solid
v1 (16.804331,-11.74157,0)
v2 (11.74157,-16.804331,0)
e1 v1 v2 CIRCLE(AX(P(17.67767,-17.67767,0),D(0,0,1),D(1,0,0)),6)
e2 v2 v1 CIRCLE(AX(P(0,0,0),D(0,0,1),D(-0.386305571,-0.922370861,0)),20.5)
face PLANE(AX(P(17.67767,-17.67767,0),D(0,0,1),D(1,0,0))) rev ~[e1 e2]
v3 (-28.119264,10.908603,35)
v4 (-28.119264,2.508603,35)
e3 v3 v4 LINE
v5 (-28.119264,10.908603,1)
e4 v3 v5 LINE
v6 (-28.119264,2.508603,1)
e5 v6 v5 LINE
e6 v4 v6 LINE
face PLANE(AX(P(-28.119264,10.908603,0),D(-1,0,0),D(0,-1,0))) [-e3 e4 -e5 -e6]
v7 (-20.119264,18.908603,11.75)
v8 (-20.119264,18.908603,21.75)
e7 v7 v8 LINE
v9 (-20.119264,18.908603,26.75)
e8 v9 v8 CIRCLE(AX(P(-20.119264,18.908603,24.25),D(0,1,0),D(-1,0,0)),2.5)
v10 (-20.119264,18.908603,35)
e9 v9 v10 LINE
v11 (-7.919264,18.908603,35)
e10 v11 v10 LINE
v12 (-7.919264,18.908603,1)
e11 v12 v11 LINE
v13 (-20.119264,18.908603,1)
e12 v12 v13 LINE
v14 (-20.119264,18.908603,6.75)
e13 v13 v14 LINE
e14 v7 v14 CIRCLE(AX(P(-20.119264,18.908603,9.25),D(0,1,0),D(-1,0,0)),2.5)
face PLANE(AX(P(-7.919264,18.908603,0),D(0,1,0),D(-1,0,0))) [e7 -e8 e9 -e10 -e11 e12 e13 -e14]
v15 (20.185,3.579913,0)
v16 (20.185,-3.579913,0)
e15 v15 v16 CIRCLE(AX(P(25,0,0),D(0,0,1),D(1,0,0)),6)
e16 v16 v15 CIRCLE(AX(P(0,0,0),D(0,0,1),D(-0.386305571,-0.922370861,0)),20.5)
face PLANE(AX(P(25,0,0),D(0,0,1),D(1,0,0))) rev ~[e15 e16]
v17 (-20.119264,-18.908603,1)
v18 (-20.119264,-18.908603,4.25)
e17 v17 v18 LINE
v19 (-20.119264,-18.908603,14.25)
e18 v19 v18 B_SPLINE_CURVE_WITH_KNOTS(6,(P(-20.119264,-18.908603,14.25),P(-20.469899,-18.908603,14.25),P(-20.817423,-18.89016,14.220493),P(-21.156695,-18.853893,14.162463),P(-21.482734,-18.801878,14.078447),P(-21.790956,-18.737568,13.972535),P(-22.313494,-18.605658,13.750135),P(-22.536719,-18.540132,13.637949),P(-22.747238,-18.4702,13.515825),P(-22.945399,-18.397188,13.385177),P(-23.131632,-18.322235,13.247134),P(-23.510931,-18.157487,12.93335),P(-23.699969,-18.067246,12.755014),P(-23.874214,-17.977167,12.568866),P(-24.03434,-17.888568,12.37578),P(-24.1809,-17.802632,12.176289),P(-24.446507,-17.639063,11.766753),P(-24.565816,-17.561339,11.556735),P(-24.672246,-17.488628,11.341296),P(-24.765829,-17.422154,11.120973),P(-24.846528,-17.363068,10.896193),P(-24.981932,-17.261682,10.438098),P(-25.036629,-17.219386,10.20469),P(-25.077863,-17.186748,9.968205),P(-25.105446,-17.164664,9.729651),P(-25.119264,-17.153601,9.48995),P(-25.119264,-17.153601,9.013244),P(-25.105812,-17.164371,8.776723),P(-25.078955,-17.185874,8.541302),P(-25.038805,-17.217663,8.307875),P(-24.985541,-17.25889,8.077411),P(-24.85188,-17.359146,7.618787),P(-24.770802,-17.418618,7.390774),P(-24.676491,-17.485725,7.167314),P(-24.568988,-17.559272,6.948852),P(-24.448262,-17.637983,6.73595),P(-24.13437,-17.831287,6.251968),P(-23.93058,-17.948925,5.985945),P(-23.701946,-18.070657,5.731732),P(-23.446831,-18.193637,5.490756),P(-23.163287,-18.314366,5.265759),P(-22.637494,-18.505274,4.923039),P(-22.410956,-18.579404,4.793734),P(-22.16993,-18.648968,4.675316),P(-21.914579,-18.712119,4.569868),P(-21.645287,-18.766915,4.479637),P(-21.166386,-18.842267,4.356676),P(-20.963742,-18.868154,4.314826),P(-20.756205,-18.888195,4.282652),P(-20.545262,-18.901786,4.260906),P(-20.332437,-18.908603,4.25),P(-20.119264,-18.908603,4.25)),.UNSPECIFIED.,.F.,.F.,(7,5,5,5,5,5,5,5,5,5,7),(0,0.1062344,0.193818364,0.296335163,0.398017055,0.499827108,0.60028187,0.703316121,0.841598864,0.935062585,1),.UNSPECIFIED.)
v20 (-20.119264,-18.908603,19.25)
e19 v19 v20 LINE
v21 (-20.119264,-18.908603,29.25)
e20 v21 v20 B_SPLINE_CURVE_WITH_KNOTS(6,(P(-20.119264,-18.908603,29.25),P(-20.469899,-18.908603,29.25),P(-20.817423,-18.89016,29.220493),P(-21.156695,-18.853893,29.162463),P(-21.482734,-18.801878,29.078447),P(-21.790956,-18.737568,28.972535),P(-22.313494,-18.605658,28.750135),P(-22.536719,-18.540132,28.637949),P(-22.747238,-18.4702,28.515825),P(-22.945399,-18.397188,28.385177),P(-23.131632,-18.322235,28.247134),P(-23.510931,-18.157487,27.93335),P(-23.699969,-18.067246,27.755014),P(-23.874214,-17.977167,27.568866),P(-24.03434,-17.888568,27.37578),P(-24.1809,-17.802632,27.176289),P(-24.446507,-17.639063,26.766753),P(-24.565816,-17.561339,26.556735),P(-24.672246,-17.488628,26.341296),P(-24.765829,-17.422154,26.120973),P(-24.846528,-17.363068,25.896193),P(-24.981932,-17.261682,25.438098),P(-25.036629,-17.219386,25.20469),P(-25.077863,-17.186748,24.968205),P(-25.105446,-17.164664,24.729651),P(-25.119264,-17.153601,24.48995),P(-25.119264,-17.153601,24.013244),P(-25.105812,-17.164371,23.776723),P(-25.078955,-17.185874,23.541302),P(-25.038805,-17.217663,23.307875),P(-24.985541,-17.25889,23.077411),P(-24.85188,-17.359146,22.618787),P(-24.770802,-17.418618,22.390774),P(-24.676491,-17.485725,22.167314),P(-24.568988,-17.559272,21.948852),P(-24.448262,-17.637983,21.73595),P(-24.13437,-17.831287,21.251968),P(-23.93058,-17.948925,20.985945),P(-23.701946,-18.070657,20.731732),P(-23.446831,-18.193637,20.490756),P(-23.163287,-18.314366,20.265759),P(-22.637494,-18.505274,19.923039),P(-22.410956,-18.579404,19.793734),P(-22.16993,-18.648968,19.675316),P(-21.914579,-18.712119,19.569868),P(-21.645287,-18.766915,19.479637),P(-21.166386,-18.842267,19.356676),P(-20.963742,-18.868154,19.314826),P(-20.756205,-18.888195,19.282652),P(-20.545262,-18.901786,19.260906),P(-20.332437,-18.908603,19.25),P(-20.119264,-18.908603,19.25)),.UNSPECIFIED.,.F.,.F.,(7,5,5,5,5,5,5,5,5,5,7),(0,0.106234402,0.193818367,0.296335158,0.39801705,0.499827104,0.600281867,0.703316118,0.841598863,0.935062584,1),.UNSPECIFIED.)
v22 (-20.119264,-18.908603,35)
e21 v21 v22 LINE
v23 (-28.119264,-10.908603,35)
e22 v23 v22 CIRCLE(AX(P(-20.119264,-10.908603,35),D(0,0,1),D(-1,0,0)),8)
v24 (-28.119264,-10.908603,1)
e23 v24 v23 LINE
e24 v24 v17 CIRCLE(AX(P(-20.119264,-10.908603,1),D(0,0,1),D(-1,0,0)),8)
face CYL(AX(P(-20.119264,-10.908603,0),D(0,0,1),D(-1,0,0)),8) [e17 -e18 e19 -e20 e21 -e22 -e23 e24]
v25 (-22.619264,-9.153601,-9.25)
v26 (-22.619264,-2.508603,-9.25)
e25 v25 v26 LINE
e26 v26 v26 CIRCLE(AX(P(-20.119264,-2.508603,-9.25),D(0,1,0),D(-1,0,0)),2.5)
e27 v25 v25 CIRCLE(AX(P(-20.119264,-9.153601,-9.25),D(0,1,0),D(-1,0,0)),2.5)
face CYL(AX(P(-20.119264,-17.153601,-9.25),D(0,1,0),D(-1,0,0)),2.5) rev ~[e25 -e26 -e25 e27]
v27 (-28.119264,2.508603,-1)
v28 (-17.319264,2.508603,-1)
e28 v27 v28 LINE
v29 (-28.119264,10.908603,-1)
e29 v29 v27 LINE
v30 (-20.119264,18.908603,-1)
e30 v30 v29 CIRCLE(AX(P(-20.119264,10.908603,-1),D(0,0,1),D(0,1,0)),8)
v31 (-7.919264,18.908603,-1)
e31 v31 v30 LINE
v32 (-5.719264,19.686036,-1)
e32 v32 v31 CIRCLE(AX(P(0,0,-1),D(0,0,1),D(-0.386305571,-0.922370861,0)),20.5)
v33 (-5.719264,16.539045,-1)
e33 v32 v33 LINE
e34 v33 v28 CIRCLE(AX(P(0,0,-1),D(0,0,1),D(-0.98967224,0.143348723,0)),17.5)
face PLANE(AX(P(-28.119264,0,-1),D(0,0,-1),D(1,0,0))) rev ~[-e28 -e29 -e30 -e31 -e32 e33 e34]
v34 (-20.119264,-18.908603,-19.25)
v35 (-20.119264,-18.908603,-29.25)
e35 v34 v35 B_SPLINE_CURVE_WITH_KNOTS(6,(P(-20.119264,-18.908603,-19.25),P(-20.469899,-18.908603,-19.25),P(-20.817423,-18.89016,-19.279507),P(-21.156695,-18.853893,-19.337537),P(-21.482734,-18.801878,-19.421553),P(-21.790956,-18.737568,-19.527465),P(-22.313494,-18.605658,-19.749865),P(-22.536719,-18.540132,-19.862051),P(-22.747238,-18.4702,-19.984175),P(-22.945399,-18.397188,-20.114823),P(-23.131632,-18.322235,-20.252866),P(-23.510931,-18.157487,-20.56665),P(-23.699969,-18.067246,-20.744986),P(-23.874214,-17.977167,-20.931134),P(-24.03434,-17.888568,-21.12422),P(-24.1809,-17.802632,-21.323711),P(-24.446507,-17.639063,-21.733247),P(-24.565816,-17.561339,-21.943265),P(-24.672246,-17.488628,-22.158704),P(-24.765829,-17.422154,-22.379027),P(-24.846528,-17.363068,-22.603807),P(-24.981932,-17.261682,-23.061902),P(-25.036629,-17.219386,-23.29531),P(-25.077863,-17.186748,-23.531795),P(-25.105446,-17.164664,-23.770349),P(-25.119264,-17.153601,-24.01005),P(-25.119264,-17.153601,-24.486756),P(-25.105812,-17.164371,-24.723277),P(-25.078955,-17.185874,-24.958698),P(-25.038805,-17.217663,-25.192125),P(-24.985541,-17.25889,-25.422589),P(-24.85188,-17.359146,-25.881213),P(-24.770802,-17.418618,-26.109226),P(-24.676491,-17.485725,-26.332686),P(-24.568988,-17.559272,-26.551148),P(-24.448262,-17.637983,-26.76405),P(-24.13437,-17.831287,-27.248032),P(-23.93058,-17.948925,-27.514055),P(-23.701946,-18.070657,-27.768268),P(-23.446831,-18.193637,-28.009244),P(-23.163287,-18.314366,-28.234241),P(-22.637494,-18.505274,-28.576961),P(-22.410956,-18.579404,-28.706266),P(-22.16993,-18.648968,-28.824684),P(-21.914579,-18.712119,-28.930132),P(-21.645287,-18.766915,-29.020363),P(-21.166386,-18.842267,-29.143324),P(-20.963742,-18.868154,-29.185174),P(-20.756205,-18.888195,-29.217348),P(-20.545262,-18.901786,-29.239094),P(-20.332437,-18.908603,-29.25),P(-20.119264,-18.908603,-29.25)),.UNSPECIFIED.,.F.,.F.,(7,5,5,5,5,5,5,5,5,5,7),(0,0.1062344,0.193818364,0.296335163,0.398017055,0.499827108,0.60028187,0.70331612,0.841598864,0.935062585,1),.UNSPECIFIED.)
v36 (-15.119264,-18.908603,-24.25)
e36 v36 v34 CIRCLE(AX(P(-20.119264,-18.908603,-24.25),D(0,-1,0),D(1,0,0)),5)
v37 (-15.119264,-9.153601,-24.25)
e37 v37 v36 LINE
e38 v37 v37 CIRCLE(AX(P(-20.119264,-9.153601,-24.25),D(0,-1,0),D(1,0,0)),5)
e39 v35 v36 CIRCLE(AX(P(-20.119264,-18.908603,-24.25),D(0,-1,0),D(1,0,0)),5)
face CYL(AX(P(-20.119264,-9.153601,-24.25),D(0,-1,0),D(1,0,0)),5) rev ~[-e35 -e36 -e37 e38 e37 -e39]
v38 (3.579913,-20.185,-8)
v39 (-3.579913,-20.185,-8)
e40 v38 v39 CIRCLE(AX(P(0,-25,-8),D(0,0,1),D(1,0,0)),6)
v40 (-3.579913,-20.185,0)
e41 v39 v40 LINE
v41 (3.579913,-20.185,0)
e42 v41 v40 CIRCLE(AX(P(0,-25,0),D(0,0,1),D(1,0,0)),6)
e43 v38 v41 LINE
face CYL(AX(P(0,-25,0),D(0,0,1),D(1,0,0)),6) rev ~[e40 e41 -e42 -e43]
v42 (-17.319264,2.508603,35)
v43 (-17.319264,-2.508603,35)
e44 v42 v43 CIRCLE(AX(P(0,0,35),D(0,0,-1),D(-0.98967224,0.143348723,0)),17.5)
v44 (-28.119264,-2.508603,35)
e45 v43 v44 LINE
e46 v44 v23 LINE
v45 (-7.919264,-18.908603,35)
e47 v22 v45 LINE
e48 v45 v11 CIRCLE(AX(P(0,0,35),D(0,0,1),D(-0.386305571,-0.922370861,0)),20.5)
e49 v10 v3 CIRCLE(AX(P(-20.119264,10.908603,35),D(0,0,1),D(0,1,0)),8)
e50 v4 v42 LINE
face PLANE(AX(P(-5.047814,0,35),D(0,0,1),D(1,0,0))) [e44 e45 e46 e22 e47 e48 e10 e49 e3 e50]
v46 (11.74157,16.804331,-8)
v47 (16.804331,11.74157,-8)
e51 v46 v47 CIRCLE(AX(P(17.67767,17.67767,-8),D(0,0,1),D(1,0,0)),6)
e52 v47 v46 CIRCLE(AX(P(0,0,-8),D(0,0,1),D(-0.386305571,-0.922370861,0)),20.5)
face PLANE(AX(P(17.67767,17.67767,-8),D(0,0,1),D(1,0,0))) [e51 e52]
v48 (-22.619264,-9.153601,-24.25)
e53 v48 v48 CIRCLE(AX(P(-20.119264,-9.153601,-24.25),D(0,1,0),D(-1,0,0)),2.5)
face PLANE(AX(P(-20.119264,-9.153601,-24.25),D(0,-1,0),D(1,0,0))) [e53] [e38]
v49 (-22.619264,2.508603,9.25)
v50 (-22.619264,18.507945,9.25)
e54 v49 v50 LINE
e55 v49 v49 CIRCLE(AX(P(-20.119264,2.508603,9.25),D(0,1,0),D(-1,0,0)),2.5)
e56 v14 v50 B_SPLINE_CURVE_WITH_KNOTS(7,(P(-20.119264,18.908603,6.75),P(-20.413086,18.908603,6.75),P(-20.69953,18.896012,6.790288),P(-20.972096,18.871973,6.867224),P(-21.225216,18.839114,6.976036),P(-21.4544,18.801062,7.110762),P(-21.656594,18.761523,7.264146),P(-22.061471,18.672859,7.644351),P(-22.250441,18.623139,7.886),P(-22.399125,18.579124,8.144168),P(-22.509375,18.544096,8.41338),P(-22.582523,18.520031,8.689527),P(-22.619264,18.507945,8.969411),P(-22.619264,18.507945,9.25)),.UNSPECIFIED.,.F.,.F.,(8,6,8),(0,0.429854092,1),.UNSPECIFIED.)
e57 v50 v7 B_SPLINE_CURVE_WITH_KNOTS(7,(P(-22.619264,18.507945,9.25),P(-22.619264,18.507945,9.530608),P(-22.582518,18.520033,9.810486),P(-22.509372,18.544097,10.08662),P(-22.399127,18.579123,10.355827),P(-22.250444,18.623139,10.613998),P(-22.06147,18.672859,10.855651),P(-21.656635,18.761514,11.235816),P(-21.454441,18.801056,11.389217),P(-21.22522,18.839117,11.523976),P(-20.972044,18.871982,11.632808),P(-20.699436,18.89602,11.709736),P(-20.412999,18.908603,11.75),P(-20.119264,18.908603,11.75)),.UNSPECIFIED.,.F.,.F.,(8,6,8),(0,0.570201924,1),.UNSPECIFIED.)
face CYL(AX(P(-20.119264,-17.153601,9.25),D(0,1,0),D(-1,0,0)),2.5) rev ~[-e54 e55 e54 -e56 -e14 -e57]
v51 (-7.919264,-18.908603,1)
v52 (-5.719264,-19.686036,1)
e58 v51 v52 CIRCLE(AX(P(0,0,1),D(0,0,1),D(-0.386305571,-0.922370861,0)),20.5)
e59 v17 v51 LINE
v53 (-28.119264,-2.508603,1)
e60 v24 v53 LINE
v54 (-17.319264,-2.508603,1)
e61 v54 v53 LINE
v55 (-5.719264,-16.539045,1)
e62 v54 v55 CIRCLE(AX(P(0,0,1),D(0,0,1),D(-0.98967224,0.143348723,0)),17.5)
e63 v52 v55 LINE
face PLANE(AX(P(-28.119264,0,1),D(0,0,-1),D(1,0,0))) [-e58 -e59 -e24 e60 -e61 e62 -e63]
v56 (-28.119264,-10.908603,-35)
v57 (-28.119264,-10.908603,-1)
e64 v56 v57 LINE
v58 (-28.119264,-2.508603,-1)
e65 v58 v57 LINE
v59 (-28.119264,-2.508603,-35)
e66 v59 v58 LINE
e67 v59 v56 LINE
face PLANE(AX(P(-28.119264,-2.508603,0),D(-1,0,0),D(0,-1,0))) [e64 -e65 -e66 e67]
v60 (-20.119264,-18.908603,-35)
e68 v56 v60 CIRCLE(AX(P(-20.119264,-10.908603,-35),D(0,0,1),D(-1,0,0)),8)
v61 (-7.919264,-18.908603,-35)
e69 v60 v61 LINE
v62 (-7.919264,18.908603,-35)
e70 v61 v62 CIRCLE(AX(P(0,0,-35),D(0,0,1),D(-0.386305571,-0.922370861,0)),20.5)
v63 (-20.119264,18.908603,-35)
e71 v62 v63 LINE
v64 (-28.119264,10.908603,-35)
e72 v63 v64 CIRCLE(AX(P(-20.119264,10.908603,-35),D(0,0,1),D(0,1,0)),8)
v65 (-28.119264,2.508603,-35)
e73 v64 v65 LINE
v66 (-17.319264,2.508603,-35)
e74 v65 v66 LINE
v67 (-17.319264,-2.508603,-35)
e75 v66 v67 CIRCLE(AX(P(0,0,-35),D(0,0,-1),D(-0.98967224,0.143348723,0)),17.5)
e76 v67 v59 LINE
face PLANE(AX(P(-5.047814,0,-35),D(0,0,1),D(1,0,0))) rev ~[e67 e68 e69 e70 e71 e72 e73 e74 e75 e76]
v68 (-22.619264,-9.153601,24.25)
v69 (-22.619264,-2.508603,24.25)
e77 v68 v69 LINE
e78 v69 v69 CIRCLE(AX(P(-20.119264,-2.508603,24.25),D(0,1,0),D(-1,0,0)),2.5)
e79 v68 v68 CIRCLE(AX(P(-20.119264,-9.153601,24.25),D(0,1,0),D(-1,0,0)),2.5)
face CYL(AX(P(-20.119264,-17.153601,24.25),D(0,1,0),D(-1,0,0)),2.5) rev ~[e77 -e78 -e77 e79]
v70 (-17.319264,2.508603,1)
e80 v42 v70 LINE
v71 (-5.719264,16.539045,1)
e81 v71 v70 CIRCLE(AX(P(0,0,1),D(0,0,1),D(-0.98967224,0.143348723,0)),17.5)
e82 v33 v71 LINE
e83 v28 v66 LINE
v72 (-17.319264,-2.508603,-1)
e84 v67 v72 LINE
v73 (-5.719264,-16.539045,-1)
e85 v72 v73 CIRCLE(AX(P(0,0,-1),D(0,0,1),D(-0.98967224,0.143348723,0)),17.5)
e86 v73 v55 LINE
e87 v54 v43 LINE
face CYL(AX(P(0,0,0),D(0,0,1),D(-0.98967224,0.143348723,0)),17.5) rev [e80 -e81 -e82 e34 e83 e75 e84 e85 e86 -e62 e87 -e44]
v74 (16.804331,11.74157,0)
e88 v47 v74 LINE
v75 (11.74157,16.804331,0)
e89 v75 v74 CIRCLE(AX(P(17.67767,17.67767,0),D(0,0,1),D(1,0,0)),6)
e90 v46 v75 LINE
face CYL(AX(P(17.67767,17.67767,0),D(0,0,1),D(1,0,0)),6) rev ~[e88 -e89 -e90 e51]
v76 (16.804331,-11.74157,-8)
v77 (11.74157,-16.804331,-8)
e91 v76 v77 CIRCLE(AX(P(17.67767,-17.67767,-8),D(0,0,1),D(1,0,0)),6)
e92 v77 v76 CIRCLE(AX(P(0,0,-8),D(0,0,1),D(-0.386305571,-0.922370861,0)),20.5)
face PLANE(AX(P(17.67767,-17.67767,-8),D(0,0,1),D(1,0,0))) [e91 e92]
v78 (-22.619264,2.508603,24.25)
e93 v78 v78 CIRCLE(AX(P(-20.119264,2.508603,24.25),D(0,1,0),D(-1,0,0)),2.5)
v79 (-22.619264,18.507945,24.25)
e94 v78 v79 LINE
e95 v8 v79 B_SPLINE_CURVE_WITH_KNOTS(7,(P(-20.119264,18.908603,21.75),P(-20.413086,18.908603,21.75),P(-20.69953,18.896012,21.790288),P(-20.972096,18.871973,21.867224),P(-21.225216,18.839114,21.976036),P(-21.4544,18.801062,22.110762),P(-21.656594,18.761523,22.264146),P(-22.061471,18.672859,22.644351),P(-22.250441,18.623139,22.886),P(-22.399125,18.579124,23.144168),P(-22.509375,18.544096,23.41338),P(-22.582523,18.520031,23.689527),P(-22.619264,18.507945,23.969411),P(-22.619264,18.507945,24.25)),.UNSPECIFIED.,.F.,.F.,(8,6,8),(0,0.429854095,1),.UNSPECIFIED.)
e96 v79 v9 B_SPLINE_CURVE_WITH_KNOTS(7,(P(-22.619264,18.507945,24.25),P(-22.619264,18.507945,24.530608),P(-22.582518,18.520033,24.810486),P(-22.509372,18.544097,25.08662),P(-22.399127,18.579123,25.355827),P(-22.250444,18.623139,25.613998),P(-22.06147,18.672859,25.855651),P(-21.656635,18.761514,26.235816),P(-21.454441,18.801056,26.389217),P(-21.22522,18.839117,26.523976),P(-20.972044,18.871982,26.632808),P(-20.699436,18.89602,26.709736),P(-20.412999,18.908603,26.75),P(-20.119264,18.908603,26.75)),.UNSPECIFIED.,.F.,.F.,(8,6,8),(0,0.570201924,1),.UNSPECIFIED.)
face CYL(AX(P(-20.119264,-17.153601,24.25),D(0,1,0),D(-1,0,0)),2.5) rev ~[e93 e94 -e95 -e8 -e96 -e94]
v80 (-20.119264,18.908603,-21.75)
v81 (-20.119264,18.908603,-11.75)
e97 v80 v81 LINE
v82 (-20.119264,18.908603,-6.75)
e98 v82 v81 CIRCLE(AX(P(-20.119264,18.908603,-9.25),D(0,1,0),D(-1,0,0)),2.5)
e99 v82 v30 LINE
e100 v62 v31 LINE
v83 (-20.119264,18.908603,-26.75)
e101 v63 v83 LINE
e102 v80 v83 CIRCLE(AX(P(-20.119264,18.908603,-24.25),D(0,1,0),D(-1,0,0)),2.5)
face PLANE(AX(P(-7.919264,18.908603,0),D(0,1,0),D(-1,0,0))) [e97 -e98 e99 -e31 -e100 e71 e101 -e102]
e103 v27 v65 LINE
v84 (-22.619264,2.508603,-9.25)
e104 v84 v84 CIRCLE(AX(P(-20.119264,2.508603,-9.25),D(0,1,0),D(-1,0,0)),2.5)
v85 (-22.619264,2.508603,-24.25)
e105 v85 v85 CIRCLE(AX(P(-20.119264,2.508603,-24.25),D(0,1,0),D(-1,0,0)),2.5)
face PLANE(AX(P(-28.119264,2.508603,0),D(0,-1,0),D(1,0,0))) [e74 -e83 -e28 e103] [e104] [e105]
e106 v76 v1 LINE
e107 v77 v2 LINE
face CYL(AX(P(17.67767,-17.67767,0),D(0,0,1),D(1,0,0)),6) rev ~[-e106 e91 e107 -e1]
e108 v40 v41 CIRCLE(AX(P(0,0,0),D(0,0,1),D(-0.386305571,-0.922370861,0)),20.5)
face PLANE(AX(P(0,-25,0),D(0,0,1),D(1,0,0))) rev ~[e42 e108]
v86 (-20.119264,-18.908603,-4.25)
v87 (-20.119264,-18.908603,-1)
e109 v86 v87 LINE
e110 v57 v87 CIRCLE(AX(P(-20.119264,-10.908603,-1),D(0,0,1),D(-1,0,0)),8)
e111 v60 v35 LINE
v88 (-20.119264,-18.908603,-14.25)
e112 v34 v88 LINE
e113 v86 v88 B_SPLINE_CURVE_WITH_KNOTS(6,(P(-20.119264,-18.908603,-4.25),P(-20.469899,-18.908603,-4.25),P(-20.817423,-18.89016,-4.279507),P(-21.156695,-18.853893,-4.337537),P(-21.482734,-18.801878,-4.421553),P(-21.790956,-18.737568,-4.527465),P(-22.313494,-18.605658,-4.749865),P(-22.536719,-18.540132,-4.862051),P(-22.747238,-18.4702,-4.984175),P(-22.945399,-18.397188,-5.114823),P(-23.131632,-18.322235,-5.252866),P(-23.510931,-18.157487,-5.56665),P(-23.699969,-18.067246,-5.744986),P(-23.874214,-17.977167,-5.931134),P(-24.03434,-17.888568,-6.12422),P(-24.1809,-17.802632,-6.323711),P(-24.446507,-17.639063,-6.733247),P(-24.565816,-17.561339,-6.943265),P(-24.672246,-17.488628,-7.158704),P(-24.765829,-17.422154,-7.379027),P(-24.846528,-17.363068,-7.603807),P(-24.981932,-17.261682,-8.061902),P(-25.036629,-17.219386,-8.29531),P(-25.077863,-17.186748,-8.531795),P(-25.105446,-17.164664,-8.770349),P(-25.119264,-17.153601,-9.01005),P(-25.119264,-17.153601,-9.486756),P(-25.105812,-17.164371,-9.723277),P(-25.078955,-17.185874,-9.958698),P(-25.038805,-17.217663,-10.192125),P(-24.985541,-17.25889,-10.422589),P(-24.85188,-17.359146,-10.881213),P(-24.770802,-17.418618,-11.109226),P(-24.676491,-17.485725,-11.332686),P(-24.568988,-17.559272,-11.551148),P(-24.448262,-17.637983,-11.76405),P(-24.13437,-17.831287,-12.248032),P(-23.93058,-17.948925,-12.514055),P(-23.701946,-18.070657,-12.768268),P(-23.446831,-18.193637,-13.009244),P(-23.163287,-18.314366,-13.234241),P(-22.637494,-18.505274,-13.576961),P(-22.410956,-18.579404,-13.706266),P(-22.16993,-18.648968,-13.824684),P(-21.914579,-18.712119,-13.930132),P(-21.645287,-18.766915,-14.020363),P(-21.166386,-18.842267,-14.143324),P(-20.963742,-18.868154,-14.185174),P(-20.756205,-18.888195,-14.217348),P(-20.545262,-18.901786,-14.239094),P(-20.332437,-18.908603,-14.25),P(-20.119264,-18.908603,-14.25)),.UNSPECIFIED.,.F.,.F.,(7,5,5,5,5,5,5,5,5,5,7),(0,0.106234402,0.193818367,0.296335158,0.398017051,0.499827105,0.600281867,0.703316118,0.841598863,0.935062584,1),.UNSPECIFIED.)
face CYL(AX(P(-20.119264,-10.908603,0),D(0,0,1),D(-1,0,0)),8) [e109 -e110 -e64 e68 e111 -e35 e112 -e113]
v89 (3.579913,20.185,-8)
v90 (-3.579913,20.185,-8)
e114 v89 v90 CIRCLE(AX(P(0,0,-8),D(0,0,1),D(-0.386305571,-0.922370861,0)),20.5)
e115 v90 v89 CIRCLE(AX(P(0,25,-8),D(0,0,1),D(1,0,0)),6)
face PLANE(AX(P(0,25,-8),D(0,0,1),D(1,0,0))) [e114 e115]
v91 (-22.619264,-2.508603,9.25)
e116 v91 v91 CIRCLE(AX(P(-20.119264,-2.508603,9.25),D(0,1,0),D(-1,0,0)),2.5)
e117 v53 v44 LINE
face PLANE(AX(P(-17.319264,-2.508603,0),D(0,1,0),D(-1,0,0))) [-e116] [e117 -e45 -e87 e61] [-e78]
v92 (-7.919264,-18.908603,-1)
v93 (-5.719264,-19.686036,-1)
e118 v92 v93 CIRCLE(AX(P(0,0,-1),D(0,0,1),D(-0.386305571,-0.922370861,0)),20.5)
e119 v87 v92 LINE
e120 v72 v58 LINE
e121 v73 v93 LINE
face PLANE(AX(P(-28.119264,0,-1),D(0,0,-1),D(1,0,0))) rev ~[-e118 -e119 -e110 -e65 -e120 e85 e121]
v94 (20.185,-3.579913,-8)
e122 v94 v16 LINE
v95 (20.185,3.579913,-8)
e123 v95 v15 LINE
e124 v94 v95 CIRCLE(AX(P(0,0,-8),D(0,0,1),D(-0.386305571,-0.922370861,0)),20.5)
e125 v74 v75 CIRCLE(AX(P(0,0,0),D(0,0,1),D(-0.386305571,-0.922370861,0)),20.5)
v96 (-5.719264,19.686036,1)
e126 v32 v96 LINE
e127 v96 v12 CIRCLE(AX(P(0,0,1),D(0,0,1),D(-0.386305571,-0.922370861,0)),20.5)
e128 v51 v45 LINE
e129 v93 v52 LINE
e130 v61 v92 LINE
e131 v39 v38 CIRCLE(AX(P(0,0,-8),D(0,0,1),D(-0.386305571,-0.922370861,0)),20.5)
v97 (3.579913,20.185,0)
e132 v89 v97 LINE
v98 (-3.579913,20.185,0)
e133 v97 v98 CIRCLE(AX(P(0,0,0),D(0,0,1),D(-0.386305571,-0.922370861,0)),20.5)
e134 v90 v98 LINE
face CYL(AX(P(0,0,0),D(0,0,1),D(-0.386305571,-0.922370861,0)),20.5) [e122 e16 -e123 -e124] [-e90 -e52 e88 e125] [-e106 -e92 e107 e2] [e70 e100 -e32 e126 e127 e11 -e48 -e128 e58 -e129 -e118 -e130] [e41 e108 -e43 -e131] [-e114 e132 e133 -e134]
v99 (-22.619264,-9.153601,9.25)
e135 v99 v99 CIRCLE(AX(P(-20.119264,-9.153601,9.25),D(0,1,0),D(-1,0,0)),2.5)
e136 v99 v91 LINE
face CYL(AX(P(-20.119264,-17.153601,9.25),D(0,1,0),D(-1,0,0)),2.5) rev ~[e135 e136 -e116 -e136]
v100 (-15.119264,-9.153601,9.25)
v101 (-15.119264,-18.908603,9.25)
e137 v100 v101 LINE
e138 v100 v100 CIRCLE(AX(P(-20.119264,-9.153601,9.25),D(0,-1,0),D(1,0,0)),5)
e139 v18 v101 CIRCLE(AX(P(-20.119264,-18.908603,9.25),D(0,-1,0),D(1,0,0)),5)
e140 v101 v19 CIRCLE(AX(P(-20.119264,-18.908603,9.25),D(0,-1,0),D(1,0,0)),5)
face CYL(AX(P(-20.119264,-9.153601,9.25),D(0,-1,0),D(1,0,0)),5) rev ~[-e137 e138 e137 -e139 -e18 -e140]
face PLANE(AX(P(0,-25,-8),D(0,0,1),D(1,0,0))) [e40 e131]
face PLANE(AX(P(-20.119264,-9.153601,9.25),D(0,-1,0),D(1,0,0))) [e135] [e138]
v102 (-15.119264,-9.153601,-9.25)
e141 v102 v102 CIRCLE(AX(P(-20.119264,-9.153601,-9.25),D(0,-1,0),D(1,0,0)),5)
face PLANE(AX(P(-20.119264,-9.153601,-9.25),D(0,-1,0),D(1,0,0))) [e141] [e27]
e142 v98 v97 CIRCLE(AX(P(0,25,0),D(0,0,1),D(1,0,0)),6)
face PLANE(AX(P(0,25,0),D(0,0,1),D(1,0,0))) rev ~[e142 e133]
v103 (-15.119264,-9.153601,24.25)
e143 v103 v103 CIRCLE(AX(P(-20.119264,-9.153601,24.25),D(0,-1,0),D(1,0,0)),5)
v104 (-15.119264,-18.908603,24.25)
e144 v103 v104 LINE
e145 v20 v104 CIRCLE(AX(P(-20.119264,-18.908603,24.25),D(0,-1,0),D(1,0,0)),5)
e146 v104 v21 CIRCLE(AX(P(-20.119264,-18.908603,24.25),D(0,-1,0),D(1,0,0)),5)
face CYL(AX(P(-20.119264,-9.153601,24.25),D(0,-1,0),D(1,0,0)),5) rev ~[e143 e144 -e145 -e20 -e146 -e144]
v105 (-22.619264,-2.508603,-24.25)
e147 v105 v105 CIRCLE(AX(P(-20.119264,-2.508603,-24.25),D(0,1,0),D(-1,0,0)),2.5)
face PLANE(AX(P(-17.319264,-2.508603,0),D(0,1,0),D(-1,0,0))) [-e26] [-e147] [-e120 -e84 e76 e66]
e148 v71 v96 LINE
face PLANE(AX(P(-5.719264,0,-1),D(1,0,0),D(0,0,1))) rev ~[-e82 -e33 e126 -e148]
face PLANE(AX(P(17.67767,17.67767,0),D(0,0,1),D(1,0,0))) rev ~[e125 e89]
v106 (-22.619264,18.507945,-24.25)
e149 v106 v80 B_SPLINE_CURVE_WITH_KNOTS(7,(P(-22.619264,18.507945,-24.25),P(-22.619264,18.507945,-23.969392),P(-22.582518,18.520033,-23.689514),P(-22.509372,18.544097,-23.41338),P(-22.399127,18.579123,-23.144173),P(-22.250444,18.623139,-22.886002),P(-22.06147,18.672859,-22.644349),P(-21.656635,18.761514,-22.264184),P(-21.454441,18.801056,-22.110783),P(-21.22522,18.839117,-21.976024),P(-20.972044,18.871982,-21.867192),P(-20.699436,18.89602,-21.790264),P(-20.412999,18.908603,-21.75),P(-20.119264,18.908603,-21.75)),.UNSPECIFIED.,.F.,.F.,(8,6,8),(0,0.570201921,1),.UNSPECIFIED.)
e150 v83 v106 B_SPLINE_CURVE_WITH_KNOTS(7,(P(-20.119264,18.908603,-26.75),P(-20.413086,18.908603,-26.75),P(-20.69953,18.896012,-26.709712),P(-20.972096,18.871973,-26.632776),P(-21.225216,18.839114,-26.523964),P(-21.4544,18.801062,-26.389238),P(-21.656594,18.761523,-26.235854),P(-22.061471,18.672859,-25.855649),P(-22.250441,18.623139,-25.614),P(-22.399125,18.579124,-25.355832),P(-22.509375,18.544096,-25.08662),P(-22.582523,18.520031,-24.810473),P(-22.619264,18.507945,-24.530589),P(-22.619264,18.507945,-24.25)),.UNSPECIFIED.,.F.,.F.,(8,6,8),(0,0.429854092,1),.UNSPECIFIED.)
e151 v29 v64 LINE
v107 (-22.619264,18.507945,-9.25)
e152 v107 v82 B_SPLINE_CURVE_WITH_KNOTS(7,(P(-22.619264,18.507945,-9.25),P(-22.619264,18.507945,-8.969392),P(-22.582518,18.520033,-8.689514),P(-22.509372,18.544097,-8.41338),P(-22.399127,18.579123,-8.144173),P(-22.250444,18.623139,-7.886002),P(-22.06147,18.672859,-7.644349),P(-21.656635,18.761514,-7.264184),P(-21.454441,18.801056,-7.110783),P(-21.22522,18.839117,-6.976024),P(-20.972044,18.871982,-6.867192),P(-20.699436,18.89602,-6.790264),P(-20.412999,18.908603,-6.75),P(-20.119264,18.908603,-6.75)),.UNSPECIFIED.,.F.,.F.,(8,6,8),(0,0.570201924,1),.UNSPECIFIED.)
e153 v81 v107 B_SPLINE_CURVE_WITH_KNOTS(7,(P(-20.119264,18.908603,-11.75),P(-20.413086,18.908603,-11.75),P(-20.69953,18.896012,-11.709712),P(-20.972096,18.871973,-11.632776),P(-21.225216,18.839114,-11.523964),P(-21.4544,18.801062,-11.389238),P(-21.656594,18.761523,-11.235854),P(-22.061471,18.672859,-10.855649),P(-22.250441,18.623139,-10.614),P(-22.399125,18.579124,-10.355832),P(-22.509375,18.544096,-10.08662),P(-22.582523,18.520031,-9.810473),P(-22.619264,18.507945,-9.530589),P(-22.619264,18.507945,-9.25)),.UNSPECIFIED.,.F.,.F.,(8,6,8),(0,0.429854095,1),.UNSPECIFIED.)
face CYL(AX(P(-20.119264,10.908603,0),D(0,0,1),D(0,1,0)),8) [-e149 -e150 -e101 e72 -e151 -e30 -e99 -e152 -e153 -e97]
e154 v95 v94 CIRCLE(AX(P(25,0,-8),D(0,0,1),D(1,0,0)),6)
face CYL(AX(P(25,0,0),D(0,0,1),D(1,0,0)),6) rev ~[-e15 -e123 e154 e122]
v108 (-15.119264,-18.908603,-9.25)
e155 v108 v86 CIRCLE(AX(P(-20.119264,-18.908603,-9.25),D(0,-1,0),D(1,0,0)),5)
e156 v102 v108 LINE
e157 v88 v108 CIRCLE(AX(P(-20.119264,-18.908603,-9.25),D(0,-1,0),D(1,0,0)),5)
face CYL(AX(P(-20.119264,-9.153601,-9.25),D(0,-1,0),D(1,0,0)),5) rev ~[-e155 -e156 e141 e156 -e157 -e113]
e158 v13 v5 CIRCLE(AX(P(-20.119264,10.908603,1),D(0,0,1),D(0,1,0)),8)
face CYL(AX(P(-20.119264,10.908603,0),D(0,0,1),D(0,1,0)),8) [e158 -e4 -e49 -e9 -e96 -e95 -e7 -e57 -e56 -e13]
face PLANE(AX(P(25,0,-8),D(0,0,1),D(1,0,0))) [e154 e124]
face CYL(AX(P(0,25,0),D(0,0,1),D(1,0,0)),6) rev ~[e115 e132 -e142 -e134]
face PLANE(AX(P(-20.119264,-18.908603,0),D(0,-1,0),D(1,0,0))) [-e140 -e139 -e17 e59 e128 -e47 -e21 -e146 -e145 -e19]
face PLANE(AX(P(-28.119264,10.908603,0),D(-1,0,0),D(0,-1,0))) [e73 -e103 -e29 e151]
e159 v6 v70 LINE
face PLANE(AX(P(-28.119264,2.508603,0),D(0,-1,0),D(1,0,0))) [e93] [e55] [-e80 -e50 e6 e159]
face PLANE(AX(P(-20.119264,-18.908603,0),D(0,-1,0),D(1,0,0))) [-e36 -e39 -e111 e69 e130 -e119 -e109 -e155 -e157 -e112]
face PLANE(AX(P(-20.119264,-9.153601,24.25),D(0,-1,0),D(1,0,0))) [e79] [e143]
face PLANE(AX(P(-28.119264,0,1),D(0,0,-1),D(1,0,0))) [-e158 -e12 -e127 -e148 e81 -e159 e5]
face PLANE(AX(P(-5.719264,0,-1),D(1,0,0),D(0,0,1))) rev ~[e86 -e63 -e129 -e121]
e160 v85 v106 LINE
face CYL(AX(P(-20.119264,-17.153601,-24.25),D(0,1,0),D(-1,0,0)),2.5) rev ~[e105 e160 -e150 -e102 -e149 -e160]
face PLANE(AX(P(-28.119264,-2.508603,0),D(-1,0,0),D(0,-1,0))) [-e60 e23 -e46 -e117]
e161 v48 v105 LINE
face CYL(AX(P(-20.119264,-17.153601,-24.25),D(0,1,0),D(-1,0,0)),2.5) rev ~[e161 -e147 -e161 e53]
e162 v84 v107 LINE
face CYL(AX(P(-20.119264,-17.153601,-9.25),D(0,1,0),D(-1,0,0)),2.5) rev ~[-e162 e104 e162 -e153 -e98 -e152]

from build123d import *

# Parameters (mm, degrees)
F1_DEPTH       = 35
F3_D           = 5
F3_START       = 1.7550021
F3_CBORE_D     = 10
F3_CBORE_DEPTH = 8
F4_W           = 22.4
F4_H           = 2
F5_DEPTH       = 25
F6_R           = 6
F7_DEPTH       = 8


with BuildPart() as f1:
    # F0 (on Top) → F1 (new body, symmetric)
    with BuildSketch(Plane.XY):
        with BuildLine():
            ThreePointArc((-17.3192642082, 2.5086026559), (17.5, 0), (-17.3192642082, -2.5086026559))
            Line((-17.3192642082, -2.5086026559), (-28.1192642082, -2.5086026559))
            Line((-28.1192642082, -2.5086026559), (-28.1192642082, -10.9086026559))
            ThreePointArc((-28.1192642082, -10.9086026559), (-25.7761184577, -16.5654569054), (-20.1192642082, -18.9086026559))
            Line((-20.1192642082, -18.9086026559), (-7.9192642082, -18.9086026559))
            ThreePointArc((-7.9192642082, -18.9086026559), (20.5, 0), (-7.9192642082, 18.9086026559))
            Line((-7.9192642082, 18.9086026559), (-20.1192642082, 18.9086026559))
            ThreePointArc((-20.1192642082, 18.9086026559), (-25.7761184577, 16.5654569054), (-28.1192642082, 10.9086026559))
            Line((-28.1192642082, 10.9086026559), (-28.1192642082, 2.5086026559))
            Line((-28.1192642082, 2.5086026559), (-17.3192642082, 2.5086026559))
        make_face()
    extrude(amount=F1_DEPTH, both=True)

    # F3 (through all)
    # its depths count from where the whole tool has entered the part; down to there all is cleared
    with Locations(Plane.XZ.offset(18.9086026559).offset(-F3_START)):
        with Locations((-20.1192642082, -24.25), (-20.1192642082, -9.25), (-20.1192642082, 9.25), (-20.1192642082, 24.25)):
            CounterBoreHole(F3_D / 2, F3_CBORE_D / 2, F3_CBORE_DEPTH)

    # F4 (on Front) → F5 (cut, symmetric)
    with BuildSketch(Plane.XZ):
        with Locations((-16.9192642082, 0)):
            Rectangle(F4_W, F4_H)
    extrude(amount=F5_DEPTH, both=True, mode=Mode.SUBTRACT)

    # F6 (on Top) → F7 (cut)
    with BuildSketch(Plane.XY):
        with Locations((0, -25)):
            Circle(F6_R)
        with Locations((17.6776695297, -17.6776695297)):
            Circle(F6_R)
        with Locations((25, 0)):
            Circle(F6_R)
        with Locations((17.6776695297, 17.6776695297)):
            Circle(F6_R)
        with Locations((0, 25)):
            Circle(F6_R)
    extrude(amount=-F7_DEPTH, mode=Mode.SUBTRACT)


solid = f1.part
